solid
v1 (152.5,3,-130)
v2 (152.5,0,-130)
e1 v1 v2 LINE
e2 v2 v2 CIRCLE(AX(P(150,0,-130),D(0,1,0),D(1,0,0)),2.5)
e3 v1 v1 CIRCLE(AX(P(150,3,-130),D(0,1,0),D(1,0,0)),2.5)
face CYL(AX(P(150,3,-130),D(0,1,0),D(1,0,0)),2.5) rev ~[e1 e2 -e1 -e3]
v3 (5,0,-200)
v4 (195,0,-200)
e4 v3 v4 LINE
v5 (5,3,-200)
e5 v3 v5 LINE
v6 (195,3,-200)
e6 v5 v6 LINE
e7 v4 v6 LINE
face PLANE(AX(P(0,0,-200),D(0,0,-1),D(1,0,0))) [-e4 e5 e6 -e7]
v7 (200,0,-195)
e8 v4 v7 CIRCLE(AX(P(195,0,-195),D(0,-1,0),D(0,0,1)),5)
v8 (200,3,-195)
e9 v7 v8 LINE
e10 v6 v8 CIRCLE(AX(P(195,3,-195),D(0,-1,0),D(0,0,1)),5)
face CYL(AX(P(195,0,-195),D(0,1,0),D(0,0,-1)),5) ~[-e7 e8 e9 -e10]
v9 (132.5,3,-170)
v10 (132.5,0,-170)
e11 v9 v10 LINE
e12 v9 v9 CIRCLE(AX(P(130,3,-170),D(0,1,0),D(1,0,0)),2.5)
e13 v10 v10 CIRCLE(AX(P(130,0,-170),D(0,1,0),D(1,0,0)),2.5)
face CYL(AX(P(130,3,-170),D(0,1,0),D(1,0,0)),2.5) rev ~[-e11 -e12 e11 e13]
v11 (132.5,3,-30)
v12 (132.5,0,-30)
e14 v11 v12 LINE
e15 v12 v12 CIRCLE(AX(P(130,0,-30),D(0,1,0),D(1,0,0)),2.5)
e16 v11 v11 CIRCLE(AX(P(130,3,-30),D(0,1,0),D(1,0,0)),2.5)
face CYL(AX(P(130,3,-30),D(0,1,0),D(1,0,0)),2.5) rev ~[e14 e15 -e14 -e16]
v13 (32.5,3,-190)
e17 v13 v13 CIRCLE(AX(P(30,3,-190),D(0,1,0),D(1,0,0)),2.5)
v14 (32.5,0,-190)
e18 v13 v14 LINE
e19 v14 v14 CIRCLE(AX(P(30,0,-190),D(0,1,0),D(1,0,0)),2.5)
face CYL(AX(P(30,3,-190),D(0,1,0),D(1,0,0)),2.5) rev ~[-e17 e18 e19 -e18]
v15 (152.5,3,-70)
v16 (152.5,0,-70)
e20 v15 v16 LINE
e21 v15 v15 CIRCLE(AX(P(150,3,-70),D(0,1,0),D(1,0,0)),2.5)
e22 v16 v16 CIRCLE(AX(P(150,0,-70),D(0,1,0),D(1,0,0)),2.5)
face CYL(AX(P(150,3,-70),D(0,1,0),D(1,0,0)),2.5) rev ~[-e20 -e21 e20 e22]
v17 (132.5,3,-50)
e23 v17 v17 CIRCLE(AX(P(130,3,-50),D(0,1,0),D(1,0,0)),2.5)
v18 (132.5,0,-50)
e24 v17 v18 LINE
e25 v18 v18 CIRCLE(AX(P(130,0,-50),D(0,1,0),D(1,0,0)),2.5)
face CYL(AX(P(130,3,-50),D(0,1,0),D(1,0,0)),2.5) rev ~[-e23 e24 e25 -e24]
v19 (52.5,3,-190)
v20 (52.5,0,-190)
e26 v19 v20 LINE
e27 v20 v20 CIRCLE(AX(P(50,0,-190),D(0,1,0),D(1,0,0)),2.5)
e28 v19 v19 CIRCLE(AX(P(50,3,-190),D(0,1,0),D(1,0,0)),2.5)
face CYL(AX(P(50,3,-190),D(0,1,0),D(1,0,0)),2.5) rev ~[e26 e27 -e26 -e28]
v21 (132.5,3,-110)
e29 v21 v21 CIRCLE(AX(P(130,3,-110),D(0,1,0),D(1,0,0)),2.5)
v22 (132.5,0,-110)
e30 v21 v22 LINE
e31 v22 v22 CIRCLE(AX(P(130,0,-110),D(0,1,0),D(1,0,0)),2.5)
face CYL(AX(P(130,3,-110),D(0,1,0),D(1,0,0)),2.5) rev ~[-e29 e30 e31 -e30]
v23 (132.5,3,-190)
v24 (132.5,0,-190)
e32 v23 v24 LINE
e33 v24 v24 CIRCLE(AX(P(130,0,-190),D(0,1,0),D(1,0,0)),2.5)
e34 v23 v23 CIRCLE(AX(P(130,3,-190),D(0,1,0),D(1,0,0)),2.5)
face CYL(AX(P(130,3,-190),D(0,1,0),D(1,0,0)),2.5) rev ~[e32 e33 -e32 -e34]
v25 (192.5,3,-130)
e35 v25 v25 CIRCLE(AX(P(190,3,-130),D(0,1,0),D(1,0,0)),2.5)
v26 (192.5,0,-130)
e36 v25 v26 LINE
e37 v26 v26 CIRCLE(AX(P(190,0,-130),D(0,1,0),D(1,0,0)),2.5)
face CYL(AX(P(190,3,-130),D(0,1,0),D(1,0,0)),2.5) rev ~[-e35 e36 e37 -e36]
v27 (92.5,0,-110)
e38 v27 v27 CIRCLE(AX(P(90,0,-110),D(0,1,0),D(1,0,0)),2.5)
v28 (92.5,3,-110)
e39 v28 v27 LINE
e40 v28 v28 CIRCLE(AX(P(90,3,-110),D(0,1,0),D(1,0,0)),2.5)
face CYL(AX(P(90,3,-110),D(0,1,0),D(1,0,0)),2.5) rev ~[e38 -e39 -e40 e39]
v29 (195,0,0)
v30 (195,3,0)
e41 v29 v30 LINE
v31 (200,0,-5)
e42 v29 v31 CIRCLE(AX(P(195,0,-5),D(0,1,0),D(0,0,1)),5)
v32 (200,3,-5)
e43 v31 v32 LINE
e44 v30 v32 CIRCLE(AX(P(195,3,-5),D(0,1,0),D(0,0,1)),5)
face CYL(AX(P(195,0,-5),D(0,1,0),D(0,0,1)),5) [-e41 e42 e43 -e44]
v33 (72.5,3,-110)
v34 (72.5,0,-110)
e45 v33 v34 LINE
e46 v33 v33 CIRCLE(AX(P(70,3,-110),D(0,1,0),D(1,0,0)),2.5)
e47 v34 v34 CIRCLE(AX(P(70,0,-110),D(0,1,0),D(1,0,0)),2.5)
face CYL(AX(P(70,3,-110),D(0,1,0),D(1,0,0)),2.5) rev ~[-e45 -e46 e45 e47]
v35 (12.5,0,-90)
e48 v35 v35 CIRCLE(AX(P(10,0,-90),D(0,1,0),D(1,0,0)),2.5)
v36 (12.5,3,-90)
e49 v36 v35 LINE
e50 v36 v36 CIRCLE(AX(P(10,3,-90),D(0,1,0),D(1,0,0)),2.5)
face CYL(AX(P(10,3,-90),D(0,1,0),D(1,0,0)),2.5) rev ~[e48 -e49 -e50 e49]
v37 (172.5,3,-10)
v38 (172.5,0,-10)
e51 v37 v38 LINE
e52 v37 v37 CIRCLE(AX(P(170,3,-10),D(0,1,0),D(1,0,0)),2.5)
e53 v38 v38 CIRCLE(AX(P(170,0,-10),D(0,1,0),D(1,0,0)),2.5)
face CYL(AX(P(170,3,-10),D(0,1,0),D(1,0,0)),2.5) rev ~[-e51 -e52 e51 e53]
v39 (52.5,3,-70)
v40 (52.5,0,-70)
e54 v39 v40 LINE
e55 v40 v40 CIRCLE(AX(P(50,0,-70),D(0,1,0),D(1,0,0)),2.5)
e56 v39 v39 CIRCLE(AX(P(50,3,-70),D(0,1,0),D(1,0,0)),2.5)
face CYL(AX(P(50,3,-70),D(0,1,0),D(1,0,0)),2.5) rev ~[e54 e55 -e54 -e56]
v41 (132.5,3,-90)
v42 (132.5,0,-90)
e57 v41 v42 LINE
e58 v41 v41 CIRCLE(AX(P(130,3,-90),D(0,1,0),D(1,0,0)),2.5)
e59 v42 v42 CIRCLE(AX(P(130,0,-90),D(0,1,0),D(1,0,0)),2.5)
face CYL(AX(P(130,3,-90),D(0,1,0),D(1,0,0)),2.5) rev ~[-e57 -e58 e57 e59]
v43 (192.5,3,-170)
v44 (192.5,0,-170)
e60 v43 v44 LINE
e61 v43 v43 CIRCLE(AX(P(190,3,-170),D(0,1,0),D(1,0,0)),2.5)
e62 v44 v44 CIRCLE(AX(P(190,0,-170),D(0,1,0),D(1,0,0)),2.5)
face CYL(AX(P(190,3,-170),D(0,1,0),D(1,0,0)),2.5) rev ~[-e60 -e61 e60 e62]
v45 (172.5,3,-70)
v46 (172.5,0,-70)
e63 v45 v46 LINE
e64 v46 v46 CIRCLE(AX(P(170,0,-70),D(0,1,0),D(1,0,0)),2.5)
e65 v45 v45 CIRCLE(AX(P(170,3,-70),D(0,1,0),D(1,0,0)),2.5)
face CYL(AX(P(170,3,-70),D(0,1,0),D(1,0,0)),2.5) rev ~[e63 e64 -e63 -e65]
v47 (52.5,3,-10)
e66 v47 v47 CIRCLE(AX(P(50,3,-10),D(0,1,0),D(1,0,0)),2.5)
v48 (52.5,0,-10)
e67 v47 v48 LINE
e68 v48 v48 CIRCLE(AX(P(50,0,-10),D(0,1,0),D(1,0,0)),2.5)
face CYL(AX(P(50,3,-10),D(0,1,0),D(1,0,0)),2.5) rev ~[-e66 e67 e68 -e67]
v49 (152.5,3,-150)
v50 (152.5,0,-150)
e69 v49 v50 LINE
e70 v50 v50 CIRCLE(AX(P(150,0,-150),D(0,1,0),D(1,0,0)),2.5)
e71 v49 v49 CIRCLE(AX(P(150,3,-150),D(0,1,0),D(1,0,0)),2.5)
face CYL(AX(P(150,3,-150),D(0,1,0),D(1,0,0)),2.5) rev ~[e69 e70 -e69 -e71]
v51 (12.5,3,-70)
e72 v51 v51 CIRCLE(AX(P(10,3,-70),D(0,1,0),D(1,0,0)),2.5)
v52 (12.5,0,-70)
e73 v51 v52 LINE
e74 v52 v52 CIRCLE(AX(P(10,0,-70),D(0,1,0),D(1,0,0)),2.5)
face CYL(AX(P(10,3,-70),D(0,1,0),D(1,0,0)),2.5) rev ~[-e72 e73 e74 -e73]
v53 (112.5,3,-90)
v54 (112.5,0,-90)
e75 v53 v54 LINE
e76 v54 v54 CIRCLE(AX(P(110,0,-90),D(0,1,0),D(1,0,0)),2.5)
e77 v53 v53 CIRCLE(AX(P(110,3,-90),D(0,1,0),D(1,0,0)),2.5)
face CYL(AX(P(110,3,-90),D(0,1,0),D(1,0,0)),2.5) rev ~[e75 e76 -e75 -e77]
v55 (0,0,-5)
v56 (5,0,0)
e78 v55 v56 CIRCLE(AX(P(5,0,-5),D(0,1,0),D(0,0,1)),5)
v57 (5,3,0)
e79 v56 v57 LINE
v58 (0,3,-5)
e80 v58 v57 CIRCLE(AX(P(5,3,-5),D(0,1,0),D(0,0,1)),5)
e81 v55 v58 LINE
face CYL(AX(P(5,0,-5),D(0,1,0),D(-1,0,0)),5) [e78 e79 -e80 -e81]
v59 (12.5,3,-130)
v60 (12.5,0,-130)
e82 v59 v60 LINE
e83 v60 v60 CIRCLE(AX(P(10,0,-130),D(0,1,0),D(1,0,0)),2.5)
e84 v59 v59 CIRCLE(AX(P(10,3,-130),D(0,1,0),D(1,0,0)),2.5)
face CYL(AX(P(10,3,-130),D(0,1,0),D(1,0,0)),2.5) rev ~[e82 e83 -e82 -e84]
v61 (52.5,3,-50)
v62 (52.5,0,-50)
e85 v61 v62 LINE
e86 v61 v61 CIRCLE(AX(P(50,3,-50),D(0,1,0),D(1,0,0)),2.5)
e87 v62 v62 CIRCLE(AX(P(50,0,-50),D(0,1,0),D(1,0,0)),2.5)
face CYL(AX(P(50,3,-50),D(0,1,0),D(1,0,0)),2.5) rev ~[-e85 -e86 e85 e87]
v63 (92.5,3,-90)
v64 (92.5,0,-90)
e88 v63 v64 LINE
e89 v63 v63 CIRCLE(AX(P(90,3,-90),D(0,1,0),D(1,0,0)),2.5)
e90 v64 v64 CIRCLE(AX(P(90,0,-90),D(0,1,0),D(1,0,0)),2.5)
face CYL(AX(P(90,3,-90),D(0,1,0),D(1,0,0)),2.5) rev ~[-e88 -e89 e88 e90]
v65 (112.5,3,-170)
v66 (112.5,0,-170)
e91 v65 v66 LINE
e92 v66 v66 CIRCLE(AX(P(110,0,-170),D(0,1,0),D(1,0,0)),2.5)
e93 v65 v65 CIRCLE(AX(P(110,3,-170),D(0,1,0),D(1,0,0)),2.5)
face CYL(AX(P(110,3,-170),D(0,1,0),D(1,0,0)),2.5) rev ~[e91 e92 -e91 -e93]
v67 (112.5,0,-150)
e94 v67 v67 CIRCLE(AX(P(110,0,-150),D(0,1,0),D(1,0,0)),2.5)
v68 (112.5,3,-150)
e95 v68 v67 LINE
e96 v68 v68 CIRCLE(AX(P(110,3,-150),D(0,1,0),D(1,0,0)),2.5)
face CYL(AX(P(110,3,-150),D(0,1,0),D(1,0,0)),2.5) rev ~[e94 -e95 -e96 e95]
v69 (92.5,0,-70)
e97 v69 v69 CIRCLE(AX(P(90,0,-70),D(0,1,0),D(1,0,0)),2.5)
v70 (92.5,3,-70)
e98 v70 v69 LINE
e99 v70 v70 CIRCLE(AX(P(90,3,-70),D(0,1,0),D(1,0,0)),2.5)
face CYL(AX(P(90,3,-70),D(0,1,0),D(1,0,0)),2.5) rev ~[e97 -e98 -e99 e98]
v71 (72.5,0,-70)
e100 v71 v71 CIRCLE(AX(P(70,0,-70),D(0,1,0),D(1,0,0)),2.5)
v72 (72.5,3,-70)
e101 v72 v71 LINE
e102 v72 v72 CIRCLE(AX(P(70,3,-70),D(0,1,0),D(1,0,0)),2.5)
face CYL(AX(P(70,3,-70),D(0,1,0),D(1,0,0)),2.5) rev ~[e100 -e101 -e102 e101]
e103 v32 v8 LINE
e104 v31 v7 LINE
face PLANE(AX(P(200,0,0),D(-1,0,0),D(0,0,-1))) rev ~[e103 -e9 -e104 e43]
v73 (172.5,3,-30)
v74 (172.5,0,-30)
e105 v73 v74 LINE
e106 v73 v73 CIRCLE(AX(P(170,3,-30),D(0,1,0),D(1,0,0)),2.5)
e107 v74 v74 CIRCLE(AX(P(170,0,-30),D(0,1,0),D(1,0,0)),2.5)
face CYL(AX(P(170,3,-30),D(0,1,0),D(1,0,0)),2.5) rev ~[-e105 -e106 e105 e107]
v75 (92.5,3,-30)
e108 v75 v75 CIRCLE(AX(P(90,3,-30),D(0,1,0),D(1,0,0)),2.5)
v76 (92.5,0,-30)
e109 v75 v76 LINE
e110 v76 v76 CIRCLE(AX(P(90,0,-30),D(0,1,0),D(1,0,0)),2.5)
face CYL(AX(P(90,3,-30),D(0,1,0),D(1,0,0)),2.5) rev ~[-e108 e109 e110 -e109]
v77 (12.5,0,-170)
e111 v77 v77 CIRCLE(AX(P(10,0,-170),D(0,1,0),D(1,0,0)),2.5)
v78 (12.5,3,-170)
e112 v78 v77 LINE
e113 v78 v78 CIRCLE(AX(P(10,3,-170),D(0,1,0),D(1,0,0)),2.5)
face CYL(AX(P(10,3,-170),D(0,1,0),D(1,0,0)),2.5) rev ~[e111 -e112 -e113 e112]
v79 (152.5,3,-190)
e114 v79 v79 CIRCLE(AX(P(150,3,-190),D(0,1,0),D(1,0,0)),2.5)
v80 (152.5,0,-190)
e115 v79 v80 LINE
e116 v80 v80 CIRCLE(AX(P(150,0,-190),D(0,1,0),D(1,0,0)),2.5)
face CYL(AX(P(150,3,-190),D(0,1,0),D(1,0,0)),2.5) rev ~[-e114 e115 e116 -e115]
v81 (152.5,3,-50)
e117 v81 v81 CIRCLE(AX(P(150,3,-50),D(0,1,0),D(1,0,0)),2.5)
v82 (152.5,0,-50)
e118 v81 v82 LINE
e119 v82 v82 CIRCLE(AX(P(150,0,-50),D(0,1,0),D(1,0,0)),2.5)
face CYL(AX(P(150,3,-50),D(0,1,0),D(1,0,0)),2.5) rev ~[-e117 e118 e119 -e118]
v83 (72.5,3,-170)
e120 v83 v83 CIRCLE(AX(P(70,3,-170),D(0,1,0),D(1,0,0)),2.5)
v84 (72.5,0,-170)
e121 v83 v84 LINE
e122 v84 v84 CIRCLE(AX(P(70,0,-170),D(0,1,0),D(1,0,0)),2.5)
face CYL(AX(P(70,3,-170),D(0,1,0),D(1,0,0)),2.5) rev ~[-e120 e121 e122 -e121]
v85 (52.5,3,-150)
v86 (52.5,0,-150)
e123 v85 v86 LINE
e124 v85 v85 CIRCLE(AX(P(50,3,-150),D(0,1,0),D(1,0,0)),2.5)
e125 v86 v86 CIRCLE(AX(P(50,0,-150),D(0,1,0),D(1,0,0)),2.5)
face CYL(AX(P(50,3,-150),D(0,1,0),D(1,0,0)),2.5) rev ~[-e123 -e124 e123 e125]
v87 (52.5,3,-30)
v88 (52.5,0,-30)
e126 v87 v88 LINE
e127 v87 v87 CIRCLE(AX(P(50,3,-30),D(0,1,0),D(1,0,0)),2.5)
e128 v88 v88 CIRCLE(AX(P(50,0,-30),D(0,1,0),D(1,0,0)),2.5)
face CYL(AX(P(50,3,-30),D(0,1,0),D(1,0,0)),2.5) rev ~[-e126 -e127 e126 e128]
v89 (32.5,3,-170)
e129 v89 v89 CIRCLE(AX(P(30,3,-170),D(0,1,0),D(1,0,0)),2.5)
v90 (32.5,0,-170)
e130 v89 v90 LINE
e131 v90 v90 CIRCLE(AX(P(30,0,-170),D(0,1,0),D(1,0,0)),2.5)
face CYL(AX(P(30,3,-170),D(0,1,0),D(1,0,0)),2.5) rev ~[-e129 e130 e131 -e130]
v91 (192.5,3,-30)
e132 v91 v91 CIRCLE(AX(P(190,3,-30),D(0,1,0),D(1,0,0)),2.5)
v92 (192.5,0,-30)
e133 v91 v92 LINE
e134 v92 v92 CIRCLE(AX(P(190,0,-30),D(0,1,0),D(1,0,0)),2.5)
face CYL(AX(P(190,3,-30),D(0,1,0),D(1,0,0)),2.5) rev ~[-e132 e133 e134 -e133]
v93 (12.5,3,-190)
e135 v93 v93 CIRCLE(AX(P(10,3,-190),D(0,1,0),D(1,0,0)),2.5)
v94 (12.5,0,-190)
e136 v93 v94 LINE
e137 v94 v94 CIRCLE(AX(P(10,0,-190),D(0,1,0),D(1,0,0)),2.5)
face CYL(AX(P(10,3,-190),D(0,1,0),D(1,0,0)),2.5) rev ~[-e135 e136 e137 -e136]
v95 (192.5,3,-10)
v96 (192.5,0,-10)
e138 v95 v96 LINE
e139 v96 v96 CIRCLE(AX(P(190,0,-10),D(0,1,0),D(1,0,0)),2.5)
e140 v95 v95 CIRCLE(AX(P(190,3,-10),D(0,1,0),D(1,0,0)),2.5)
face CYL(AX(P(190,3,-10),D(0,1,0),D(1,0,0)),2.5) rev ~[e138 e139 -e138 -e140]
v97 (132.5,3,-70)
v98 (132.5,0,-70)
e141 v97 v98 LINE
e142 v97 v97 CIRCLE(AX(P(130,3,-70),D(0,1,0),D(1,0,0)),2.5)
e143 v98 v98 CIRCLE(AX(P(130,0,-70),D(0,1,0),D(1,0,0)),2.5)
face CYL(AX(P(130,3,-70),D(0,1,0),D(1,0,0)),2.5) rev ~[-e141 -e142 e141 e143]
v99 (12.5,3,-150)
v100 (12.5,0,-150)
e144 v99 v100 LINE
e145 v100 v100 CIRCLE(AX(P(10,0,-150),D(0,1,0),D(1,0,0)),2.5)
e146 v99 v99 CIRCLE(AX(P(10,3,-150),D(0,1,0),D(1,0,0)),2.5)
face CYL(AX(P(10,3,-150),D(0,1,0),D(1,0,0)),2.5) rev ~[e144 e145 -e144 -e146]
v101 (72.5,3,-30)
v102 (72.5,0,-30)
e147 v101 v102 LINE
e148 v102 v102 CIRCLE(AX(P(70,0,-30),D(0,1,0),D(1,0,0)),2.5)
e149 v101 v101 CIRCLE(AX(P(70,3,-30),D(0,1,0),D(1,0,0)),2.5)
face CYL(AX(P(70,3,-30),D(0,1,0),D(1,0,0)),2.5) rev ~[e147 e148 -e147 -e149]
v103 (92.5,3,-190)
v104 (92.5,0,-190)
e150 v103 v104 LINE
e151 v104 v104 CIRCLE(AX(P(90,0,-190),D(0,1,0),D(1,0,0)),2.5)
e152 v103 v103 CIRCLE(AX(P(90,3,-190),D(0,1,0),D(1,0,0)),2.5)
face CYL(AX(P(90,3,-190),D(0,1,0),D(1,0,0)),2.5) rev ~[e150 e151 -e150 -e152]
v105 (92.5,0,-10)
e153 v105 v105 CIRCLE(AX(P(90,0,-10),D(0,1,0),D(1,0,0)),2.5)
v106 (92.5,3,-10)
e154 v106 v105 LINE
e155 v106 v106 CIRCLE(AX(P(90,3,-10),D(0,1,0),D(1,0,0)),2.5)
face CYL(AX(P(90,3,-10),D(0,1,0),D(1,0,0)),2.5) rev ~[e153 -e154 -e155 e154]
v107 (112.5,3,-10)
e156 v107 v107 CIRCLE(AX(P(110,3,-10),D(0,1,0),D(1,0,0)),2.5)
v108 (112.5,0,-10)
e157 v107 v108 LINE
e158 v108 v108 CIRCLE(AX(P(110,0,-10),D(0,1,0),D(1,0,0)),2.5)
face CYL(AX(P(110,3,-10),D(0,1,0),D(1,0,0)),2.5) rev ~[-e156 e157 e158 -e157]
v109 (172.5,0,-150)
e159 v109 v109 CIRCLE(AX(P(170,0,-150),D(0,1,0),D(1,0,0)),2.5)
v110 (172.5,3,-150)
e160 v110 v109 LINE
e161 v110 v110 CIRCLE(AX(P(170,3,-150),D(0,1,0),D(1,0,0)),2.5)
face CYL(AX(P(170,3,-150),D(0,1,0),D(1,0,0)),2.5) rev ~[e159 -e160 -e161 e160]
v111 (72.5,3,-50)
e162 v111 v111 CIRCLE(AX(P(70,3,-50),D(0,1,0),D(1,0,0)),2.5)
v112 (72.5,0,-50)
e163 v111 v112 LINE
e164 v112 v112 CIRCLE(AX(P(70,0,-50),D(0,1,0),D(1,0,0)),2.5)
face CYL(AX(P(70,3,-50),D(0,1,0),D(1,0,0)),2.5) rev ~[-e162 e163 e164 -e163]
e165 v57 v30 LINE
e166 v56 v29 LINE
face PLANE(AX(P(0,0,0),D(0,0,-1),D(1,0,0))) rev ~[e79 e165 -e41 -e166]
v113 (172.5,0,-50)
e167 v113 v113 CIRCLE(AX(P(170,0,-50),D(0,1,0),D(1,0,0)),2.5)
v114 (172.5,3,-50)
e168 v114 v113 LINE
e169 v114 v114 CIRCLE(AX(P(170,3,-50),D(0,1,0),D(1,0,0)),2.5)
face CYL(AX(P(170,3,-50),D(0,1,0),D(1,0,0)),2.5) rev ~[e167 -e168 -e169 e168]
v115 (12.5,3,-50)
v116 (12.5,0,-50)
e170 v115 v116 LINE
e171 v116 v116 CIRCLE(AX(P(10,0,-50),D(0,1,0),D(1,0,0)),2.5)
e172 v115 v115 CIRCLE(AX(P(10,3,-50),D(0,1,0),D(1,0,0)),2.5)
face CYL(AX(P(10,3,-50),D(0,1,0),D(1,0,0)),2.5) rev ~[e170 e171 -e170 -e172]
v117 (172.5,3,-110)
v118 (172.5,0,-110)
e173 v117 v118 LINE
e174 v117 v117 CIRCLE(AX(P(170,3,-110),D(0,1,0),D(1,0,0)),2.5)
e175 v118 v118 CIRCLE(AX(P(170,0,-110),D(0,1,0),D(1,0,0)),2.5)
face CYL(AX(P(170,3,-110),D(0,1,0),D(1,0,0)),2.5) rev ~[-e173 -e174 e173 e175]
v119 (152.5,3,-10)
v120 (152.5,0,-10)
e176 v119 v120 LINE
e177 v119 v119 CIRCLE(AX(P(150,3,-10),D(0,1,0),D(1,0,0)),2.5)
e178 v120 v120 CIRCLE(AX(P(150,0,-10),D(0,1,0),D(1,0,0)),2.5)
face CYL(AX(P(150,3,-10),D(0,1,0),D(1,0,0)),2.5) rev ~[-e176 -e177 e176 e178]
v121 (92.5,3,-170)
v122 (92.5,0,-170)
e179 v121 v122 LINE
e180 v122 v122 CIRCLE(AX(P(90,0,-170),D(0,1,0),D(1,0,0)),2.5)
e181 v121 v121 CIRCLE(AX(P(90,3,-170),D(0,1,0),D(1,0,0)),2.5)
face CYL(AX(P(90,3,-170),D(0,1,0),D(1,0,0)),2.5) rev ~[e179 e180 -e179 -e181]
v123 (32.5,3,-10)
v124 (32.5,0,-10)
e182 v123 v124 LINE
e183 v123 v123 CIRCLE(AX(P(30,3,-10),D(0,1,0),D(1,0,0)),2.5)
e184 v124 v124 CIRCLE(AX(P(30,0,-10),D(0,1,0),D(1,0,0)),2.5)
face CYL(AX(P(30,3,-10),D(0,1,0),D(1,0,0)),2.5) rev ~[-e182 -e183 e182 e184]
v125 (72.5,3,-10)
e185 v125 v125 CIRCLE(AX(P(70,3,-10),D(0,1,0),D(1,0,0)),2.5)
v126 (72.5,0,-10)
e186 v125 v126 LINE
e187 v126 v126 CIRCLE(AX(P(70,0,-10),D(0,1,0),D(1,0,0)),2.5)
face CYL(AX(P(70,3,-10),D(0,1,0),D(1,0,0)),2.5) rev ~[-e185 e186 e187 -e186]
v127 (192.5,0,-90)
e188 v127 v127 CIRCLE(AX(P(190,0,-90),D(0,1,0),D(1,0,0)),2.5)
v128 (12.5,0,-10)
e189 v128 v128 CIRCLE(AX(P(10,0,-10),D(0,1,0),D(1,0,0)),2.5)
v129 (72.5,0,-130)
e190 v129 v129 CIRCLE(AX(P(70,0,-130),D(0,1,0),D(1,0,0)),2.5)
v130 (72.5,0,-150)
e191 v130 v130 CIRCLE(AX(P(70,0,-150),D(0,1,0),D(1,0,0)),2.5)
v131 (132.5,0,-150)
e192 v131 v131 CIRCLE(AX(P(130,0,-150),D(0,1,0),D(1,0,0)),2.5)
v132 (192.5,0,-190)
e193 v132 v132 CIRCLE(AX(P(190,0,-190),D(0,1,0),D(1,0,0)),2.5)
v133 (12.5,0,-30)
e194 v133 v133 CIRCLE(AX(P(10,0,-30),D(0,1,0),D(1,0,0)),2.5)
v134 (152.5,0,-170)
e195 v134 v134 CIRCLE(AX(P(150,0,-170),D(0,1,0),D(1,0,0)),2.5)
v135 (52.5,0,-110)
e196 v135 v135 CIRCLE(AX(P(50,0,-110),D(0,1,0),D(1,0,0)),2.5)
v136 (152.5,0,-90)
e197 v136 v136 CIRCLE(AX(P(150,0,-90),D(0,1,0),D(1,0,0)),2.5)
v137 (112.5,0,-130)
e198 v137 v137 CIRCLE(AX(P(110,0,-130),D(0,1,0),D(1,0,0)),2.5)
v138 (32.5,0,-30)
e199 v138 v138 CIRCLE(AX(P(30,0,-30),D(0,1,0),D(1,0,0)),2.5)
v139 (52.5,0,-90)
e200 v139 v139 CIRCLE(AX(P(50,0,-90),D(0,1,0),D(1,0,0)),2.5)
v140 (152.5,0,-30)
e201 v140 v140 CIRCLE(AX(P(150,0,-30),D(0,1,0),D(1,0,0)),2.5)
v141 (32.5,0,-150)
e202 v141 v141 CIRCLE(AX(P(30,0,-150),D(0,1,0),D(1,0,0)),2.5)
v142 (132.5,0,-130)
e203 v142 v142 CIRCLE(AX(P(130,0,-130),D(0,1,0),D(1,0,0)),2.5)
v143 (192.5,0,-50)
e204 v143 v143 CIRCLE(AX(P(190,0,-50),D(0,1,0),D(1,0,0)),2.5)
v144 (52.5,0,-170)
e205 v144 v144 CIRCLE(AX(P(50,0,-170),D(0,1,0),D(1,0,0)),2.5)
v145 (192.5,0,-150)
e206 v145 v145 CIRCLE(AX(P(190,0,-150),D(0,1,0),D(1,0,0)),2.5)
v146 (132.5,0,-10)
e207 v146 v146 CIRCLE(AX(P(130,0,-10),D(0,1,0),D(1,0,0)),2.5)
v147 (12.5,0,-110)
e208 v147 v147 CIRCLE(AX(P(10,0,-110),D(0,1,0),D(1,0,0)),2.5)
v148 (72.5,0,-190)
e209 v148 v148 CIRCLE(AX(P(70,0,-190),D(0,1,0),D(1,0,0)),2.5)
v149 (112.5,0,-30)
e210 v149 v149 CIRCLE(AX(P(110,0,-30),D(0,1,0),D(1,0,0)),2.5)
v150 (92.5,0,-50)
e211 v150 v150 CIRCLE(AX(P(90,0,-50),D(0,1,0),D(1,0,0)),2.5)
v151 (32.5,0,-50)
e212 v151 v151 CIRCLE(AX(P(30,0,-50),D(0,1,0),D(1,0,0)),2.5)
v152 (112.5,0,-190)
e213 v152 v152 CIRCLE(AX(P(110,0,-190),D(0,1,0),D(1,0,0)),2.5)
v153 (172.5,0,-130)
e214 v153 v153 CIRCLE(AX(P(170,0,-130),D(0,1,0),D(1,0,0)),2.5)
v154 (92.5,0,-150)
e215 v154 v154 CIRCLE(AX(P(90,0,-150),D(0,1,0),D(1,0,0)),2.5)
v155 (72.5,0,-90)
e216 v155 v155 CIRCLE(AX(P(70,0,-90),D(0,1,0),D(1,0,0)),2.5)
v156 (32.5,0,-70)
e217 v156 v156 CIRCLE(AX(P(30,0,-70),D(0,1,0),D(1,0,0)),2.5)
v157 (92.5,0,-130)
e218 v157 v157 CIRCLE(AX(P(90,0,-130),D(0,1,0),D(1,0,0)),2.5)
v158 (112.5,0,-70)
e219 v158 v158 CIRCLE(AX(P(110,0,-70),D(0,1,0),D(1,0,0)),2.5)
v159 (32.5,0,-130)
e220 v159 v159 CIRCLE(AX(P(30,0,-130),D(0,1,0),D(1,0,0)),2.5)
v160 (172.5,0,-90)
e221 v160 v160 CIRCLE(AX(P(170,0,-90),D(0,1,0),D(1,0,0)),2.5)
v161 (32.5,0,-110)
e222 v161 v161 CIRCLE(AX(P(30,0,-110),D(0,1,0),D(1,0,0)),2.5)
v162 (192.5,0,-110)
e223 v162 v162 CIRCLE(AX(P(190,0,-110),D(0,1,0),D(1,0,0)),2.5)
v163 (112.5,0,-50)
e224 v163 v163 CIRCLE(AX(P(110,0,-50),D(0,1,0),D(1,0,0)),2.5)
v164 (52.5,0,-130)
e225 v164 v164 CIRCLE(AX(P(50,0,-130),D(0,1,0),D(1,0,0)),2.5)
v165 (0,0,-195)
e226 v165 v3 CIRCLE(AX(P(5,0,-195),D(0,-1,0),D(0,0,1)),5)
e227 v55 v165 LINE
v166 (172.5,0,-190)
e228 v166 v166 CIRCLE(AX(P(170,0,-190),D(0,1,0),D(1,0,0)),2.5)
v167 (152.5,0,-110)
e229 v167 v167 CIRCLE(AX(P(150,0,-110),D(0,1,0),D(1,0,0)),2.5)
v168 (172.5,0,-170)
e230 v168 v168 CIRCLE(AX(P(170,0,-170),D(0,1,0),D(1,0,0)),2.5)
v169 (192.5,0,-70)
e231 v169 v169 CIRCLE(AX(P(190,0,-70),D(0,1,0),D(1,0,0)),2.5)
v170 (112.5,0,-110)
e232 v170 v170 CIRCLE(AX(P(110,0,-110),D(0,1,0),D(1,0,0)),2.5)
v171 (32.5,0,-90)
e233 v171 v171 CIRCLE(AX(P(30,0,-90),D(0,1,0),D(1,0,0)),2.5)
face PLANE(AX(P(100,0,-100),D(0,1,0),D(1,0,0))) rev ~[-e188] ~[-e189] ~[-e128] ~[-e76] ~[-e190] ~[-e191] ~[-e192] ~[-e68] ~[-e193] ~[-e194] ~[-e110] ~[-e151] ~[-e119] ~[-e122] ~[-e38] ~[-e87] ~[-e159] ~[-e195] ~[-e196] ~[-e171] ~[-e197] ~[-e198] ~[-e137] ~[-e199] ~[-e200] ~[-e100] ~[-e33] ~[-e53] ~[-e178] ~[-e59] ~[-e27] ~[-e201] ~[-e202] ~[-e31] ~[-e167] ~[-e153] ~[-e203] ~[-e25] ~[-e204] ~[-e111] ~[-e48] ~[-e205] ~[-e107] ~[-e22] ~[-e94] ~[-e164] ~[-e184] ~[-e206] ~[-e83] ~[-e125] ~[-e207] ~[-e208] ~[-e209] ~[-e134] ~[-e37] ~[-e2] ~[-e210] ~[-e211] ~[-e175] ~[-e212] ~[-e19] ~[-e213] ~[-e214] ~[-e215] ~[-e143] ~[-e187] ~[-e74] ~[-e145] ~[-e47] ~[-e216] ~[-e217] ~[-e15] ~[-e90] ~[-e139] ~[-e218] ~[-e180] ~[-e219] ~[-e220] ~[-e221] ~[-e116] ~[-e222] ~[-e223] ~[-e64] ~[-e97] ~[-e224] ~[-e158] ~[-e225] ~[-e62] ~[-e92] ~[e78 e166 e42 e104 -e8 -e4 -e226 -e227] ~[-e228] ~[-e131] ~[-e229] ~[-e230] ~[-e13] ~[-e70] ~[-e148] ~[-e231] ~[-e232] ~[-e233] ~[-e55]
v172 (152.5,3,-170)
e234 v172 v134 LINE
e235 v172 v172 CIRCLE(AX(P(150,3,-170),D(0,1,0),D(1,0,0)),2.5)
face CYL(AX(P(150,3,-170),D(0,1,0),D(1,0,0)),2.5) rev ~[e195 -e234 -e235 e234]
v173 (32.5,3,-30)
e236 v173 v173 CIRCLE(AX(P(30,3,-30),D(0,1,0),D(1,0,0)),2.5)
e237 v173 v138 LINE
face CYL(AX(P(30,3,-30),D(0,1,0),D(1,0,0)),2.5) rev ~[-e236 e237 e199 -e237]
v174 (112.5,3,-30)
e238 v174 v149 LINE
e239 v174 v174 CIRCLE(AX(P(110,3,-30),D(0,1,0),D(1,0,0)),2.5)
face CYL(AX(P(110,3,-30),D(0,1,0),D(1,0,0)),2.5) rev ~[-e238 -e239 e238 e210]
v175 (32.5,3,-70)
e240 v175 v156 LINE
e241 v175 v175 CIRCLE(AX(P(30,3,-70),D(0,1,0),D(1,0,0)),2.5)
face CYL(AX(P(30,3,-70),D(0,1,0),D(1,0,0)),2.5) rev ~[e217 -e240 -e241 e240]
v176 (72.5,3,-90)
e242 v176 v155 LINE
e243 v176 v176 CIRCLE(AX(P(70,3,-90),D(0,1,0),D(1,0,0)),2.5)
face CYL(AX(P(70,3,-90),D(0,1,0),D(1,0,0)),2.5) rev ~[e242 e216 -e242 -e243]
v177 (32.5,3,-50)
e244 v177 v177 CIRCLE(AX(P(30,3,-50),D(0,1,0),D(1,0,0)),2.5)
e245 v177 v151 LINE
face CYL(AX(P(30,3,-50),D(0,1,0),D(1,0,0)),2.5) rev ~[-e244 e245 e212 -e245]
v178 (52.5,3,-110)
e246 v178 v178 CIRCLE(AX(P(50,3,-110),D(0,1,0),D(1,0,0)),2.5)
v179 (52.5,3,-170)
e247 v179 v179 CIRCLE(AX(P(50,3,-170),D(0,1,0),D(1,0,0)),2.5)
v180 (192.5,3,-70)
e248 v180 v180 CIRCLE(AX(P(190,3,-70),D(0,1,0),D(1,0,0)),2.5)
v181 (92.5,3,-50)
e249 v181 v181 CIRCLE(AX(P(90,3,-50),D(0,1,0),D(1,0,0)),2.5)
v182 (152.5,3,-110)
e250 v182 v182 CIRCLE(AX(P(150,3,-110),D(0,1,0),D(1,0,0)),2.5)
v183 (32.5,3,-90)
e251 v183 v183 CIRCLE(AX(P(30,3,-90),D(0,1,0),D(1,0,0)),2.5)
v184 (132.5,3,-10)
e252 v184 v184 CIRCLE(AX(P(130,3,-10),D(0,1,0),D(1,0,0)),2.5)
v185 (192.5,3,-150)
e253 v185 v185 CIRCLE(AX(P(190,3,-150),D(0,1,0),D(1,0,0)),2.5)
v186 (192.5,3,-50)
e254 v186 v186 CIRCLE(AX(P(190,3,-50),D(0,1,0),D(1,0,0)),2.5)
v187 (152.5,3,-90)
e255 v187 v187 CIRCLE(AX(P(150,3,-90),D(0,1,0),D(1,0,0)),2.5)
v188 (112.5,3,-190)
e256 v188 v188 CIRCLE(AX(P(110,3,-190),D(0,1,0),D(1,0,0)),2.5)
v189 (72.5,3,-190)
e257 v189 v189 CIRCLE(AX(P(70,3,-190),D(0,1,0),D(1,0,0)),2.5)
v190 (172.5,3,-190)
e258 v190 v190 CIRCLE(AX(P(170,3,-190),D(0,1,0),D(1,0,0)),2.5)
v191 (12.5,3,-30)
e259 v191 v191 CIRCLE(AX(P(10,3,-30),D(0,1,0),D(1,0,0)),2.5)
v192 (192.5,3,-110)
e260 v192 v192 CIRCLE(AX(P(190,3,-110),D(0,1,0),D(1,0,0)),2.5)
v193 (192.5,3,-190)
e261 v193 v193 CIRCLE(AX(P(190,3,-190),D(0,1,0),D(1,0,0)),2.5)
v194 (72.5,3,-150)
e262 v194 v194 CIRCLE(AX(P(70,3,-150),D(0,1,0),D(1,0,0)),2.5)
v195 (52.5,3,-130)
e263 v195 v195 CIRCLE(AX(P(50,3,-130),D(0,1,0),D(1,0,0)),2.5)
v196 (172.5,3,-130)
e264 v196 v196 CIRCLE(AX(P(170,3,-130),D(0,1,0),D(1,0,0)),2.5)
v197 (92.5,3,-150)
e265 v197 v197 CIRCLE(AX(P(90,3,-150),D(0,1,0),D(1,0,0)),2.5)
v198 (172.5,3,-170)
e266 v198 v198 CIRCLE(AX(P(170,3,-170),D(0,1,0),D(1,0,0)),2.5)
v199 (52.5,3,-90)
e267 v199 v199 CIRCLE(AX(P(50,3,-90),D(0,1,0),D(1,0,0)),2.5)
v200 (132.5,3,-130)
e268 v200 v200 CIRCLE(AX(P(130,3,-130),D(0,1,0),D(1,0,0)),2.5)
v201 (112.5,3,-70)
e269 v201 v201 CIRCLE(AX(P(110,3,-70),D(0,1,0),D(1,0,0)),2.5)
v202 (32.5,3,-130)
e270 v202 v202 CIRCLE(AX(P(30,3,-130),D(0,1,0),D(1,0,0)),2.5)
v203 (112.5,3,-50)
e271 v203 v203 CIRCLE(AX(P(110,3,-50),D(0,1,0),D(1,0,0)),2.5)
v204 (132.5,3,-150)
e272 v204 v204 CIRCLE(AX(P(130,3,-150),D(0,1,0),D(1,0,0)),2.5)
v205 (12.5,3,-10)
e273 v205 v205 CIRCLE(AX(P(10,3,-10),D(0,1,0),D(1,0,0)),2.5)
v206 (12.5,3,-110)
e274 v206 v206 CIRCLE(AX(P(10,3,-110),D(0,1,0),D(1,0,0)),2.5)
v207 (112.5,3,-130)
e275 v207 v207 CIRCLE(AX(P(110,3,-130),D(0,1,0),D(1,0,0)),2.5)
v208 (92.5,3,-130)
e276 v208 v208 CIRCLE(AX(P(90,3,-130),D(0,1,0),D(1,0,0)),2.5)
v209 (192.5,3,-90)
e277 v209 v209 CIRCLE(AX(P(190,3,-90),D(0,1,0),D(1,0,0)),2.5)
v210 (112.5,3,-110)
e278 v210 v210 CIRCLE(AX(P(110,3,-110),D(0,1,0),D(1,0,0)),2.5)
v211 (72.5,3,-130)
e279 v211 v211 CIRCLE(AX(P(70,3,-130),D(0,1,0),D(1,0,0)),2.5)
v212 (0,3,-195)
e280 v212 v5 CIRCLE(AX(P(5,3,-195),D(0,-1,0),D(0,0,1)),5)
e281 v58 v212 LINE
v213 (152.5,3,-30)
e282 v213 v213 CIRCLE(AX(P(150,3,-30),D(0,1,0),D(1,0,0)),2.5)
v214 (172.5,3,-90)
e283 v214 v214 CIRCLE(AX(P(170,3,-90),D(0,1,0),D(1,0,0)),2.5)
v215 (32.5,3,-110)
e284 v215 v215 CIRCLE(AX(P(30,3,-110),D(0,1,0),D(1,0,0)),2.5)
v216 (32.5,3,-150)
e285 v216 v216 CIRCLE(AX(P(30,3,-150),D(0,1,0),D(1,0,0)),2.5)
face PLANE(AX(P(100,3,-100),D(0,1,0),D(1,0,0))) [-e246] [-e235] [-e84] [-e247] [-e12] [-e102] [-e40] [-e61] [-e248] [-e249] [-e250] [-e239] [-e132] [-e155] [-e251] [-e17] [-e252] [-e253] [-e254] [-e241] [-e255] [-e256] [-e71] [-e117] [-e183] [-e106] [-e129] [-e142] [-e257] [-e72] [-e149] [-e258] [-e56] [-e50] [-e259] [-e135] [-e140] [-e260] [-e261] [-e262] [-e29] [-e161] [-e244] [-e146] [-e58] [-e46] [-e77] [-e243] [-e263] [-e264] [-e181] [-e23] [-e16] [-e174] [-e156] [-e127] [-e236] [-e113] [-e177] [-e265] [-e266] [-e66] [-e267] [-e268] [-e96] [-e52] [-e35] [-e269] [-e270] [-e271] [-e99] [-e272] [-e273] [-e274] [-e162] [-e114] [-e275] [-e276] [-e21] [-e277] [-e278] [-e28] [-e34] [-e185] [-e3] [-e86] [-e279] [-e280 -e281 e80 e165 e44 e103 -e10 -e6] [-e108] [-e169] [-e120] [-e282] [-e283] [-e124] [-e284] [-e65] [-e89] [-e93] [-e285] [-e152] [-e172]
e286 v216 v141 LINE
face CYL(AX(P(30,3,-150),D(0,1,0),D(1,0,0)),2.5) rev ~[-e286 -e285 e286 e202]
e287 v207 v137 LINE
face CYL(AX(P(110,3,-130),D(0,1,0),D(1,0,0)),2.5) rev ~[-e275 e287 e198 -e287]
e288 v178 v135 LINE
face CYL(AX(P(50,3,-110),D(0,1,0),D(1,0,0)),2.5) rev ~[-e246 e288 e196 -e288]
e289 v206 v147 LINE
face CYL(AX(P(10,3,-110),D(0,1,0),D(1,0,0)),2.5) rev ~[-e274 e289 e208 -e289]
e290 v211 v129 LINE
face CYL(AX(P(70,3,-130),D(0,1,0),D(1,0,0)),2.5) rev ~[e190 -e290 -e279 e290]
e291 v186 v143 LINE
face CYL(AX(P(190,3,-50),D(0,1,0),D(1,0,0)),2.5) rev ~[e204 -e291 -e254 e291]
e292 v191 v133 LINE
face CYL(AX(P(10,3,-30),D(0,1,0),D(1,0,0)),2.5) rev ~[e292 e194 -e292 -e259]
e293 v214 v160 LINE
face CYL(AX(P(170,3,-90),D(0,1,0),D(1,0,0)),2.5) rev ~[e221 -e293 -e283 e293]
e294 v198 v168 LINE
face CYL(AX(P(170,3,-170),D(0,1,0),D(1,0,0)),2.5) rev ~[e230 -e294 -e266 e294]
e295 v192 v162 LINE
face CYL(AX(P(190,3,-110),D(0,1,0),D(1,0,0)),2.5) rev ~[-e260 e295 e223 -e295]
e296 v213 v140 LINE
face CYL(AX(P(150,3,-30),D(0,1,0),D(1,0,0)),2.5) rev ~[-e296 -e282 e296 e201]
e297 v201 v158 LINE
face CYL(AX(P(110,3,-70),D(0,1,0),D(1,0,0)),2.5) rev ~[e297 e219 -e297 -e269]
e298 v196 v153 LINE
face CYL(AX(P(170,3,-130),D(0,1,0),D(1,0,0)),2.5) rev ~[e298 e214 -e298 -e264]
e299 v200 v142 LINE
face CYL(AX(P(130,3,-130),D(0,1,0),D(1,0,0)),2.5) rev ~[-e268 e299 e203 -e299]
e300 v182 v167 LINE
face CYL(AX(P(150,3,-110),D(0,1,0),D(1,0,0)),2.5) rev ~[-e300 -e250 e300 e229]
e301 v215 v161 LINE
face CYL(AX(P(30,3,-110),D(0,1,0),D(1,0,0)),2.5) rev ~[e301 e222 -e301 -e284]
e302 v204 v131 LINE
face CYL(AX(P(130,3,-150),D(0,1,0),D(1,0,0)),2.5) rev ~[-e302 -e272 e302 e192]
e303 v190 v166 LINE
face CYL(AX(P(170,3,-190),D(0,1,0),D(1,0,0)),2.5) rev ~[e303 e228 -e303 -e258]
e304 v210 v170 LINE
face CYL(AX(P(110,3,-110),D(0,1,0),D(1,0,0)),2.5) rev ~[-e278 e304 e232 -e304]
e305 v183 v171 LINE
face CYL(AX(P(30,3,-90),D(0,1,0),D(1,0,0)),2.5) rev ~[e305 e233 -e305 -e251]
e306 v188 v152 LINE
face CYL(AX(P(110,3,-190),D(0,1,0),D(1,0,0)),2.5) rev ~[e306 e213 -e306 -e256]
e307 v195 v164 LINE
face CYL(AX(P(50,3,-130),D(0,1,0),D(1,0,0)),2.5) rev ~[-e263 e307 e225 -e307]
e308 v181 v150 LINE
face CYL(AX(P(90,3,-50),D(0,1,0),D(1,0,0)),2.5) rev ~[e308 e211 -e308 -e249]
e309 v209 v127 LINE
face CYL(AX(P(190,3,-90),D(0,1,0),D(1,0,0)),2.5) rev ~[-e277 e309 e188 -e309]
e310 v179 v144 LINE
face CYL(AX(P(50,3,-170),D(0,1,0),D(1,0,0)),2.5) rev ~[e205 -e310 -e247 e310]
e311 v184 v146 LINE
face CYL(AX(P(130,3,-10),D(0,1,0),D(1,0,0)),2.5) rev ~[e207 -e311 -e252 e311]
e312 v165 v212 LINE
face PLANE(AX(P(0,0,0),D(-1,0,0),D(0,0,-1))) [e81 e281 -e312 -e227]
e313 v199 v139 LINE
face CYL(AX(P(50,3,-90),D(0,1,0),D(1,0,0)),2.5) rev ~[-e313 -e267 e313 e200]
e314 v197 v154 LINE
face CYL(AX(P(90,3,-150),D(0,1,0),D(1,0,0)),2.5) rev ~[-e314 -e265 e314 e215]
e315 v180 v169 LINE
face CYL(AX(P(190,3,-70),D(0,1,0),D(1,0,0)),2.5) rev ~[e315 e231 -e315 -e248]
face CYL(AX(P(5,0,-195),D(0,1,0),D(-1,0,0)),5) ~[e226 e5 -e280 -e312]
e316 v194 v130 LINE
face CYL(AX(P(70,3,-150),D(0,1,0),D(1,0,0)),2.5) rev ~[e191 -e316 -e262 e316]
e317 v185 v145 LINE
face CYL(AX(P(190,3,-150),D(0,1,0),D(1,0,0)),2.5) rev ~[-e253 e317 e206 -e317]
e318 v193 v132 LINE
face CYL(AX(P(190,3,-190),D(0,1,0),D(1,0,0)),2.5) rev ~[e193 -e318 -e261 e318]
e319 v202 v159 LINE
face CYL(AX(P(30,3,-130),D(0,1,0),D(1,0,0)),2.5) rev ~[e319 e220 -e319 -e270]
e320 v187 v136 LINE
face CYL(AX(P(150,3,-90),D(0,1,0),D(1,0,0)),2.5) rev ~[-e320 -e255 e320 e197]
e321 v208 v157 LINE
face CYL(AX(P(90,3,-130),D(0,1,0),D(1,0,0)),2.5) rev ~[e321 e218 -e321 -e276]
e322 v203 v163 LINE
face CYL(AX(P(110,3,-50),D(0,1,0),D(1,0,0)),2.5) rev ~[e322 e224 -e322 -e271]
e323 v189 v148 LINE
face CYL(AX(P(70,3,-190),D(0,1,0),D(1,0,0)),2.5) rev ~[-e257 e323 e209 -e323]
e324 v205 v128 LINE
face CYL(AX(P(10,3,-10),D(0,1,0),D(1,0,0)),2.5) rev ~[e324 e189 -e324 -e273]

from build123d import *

# Parameters (mm, degrees)
SKETCH1_W            = 200
SKETCH1_H            = 200
BOSS_EXTRUDE1_DEPTH  = 3
SKETCH3_R            = 2.5
CUT_EXTRUDE1_DEPTH   = 4
LPATTERN1_COUNT      = 10
LPATTERN1_PITCH      = 20
LPATTERN1_COUNT_DIR2 = 10
LPATTERN1_PITCH_DIR2 = 20
FILLET1_R            = 5


with BuildPart() as part:
    # Sketch1 → Boss-Extrude1 (new body)
    with BuildSketch(Plane(origin=(0, 0, 0), x_dir=(1, 0, 0), z_dir=(0, 1, 0))):
        with Locations((100, 100)):
            Rectangle(SKETCH1_W, SKETCH1_H)
    extrude(amount=BOSS_EXTRUDE1_DEPTH)

    # Sketch3 → Cut-Extrude1 (cut, through all)
    with BuildSketch(Plane(origin=(0, 3, 0), x_dir=(1, 0, 0), z_dir=(0, 1, 0))):
        with Locations((190, 10)):
            Circle(SKETCH3_R)
    cut_extrude1 = extrude(amount=-CUT_EXTRUDE1_DEPTH, mode=Mode.SUBTRACT)

    # LPattern1: Cut-Extrude1 10 × 10
    with Locations(*[(-j * LPATTERN1_PITCH_DIR2, 0, -i * LPATTERN1_PITCH) for i in range(LPATTERN1_COUNT) for j in range(LPATTERN1_COUNT_DIR2) if (i, j) != (0, 0)]):
        add(cut_extrude1, mode=Mode.SUBTRACT)

    # Fillet1
    fillet1_edges = [part.edges().sort_by_distance(p)[0] for p in [
        (0, 1.5, -200),
        (200, 1.5, -200),
        (200, 1.5, 0),
        (0, 1.5, 0),
    ]]
    fillet(fillet1_edges, radius=FILLET1_R)


solid = part.part
